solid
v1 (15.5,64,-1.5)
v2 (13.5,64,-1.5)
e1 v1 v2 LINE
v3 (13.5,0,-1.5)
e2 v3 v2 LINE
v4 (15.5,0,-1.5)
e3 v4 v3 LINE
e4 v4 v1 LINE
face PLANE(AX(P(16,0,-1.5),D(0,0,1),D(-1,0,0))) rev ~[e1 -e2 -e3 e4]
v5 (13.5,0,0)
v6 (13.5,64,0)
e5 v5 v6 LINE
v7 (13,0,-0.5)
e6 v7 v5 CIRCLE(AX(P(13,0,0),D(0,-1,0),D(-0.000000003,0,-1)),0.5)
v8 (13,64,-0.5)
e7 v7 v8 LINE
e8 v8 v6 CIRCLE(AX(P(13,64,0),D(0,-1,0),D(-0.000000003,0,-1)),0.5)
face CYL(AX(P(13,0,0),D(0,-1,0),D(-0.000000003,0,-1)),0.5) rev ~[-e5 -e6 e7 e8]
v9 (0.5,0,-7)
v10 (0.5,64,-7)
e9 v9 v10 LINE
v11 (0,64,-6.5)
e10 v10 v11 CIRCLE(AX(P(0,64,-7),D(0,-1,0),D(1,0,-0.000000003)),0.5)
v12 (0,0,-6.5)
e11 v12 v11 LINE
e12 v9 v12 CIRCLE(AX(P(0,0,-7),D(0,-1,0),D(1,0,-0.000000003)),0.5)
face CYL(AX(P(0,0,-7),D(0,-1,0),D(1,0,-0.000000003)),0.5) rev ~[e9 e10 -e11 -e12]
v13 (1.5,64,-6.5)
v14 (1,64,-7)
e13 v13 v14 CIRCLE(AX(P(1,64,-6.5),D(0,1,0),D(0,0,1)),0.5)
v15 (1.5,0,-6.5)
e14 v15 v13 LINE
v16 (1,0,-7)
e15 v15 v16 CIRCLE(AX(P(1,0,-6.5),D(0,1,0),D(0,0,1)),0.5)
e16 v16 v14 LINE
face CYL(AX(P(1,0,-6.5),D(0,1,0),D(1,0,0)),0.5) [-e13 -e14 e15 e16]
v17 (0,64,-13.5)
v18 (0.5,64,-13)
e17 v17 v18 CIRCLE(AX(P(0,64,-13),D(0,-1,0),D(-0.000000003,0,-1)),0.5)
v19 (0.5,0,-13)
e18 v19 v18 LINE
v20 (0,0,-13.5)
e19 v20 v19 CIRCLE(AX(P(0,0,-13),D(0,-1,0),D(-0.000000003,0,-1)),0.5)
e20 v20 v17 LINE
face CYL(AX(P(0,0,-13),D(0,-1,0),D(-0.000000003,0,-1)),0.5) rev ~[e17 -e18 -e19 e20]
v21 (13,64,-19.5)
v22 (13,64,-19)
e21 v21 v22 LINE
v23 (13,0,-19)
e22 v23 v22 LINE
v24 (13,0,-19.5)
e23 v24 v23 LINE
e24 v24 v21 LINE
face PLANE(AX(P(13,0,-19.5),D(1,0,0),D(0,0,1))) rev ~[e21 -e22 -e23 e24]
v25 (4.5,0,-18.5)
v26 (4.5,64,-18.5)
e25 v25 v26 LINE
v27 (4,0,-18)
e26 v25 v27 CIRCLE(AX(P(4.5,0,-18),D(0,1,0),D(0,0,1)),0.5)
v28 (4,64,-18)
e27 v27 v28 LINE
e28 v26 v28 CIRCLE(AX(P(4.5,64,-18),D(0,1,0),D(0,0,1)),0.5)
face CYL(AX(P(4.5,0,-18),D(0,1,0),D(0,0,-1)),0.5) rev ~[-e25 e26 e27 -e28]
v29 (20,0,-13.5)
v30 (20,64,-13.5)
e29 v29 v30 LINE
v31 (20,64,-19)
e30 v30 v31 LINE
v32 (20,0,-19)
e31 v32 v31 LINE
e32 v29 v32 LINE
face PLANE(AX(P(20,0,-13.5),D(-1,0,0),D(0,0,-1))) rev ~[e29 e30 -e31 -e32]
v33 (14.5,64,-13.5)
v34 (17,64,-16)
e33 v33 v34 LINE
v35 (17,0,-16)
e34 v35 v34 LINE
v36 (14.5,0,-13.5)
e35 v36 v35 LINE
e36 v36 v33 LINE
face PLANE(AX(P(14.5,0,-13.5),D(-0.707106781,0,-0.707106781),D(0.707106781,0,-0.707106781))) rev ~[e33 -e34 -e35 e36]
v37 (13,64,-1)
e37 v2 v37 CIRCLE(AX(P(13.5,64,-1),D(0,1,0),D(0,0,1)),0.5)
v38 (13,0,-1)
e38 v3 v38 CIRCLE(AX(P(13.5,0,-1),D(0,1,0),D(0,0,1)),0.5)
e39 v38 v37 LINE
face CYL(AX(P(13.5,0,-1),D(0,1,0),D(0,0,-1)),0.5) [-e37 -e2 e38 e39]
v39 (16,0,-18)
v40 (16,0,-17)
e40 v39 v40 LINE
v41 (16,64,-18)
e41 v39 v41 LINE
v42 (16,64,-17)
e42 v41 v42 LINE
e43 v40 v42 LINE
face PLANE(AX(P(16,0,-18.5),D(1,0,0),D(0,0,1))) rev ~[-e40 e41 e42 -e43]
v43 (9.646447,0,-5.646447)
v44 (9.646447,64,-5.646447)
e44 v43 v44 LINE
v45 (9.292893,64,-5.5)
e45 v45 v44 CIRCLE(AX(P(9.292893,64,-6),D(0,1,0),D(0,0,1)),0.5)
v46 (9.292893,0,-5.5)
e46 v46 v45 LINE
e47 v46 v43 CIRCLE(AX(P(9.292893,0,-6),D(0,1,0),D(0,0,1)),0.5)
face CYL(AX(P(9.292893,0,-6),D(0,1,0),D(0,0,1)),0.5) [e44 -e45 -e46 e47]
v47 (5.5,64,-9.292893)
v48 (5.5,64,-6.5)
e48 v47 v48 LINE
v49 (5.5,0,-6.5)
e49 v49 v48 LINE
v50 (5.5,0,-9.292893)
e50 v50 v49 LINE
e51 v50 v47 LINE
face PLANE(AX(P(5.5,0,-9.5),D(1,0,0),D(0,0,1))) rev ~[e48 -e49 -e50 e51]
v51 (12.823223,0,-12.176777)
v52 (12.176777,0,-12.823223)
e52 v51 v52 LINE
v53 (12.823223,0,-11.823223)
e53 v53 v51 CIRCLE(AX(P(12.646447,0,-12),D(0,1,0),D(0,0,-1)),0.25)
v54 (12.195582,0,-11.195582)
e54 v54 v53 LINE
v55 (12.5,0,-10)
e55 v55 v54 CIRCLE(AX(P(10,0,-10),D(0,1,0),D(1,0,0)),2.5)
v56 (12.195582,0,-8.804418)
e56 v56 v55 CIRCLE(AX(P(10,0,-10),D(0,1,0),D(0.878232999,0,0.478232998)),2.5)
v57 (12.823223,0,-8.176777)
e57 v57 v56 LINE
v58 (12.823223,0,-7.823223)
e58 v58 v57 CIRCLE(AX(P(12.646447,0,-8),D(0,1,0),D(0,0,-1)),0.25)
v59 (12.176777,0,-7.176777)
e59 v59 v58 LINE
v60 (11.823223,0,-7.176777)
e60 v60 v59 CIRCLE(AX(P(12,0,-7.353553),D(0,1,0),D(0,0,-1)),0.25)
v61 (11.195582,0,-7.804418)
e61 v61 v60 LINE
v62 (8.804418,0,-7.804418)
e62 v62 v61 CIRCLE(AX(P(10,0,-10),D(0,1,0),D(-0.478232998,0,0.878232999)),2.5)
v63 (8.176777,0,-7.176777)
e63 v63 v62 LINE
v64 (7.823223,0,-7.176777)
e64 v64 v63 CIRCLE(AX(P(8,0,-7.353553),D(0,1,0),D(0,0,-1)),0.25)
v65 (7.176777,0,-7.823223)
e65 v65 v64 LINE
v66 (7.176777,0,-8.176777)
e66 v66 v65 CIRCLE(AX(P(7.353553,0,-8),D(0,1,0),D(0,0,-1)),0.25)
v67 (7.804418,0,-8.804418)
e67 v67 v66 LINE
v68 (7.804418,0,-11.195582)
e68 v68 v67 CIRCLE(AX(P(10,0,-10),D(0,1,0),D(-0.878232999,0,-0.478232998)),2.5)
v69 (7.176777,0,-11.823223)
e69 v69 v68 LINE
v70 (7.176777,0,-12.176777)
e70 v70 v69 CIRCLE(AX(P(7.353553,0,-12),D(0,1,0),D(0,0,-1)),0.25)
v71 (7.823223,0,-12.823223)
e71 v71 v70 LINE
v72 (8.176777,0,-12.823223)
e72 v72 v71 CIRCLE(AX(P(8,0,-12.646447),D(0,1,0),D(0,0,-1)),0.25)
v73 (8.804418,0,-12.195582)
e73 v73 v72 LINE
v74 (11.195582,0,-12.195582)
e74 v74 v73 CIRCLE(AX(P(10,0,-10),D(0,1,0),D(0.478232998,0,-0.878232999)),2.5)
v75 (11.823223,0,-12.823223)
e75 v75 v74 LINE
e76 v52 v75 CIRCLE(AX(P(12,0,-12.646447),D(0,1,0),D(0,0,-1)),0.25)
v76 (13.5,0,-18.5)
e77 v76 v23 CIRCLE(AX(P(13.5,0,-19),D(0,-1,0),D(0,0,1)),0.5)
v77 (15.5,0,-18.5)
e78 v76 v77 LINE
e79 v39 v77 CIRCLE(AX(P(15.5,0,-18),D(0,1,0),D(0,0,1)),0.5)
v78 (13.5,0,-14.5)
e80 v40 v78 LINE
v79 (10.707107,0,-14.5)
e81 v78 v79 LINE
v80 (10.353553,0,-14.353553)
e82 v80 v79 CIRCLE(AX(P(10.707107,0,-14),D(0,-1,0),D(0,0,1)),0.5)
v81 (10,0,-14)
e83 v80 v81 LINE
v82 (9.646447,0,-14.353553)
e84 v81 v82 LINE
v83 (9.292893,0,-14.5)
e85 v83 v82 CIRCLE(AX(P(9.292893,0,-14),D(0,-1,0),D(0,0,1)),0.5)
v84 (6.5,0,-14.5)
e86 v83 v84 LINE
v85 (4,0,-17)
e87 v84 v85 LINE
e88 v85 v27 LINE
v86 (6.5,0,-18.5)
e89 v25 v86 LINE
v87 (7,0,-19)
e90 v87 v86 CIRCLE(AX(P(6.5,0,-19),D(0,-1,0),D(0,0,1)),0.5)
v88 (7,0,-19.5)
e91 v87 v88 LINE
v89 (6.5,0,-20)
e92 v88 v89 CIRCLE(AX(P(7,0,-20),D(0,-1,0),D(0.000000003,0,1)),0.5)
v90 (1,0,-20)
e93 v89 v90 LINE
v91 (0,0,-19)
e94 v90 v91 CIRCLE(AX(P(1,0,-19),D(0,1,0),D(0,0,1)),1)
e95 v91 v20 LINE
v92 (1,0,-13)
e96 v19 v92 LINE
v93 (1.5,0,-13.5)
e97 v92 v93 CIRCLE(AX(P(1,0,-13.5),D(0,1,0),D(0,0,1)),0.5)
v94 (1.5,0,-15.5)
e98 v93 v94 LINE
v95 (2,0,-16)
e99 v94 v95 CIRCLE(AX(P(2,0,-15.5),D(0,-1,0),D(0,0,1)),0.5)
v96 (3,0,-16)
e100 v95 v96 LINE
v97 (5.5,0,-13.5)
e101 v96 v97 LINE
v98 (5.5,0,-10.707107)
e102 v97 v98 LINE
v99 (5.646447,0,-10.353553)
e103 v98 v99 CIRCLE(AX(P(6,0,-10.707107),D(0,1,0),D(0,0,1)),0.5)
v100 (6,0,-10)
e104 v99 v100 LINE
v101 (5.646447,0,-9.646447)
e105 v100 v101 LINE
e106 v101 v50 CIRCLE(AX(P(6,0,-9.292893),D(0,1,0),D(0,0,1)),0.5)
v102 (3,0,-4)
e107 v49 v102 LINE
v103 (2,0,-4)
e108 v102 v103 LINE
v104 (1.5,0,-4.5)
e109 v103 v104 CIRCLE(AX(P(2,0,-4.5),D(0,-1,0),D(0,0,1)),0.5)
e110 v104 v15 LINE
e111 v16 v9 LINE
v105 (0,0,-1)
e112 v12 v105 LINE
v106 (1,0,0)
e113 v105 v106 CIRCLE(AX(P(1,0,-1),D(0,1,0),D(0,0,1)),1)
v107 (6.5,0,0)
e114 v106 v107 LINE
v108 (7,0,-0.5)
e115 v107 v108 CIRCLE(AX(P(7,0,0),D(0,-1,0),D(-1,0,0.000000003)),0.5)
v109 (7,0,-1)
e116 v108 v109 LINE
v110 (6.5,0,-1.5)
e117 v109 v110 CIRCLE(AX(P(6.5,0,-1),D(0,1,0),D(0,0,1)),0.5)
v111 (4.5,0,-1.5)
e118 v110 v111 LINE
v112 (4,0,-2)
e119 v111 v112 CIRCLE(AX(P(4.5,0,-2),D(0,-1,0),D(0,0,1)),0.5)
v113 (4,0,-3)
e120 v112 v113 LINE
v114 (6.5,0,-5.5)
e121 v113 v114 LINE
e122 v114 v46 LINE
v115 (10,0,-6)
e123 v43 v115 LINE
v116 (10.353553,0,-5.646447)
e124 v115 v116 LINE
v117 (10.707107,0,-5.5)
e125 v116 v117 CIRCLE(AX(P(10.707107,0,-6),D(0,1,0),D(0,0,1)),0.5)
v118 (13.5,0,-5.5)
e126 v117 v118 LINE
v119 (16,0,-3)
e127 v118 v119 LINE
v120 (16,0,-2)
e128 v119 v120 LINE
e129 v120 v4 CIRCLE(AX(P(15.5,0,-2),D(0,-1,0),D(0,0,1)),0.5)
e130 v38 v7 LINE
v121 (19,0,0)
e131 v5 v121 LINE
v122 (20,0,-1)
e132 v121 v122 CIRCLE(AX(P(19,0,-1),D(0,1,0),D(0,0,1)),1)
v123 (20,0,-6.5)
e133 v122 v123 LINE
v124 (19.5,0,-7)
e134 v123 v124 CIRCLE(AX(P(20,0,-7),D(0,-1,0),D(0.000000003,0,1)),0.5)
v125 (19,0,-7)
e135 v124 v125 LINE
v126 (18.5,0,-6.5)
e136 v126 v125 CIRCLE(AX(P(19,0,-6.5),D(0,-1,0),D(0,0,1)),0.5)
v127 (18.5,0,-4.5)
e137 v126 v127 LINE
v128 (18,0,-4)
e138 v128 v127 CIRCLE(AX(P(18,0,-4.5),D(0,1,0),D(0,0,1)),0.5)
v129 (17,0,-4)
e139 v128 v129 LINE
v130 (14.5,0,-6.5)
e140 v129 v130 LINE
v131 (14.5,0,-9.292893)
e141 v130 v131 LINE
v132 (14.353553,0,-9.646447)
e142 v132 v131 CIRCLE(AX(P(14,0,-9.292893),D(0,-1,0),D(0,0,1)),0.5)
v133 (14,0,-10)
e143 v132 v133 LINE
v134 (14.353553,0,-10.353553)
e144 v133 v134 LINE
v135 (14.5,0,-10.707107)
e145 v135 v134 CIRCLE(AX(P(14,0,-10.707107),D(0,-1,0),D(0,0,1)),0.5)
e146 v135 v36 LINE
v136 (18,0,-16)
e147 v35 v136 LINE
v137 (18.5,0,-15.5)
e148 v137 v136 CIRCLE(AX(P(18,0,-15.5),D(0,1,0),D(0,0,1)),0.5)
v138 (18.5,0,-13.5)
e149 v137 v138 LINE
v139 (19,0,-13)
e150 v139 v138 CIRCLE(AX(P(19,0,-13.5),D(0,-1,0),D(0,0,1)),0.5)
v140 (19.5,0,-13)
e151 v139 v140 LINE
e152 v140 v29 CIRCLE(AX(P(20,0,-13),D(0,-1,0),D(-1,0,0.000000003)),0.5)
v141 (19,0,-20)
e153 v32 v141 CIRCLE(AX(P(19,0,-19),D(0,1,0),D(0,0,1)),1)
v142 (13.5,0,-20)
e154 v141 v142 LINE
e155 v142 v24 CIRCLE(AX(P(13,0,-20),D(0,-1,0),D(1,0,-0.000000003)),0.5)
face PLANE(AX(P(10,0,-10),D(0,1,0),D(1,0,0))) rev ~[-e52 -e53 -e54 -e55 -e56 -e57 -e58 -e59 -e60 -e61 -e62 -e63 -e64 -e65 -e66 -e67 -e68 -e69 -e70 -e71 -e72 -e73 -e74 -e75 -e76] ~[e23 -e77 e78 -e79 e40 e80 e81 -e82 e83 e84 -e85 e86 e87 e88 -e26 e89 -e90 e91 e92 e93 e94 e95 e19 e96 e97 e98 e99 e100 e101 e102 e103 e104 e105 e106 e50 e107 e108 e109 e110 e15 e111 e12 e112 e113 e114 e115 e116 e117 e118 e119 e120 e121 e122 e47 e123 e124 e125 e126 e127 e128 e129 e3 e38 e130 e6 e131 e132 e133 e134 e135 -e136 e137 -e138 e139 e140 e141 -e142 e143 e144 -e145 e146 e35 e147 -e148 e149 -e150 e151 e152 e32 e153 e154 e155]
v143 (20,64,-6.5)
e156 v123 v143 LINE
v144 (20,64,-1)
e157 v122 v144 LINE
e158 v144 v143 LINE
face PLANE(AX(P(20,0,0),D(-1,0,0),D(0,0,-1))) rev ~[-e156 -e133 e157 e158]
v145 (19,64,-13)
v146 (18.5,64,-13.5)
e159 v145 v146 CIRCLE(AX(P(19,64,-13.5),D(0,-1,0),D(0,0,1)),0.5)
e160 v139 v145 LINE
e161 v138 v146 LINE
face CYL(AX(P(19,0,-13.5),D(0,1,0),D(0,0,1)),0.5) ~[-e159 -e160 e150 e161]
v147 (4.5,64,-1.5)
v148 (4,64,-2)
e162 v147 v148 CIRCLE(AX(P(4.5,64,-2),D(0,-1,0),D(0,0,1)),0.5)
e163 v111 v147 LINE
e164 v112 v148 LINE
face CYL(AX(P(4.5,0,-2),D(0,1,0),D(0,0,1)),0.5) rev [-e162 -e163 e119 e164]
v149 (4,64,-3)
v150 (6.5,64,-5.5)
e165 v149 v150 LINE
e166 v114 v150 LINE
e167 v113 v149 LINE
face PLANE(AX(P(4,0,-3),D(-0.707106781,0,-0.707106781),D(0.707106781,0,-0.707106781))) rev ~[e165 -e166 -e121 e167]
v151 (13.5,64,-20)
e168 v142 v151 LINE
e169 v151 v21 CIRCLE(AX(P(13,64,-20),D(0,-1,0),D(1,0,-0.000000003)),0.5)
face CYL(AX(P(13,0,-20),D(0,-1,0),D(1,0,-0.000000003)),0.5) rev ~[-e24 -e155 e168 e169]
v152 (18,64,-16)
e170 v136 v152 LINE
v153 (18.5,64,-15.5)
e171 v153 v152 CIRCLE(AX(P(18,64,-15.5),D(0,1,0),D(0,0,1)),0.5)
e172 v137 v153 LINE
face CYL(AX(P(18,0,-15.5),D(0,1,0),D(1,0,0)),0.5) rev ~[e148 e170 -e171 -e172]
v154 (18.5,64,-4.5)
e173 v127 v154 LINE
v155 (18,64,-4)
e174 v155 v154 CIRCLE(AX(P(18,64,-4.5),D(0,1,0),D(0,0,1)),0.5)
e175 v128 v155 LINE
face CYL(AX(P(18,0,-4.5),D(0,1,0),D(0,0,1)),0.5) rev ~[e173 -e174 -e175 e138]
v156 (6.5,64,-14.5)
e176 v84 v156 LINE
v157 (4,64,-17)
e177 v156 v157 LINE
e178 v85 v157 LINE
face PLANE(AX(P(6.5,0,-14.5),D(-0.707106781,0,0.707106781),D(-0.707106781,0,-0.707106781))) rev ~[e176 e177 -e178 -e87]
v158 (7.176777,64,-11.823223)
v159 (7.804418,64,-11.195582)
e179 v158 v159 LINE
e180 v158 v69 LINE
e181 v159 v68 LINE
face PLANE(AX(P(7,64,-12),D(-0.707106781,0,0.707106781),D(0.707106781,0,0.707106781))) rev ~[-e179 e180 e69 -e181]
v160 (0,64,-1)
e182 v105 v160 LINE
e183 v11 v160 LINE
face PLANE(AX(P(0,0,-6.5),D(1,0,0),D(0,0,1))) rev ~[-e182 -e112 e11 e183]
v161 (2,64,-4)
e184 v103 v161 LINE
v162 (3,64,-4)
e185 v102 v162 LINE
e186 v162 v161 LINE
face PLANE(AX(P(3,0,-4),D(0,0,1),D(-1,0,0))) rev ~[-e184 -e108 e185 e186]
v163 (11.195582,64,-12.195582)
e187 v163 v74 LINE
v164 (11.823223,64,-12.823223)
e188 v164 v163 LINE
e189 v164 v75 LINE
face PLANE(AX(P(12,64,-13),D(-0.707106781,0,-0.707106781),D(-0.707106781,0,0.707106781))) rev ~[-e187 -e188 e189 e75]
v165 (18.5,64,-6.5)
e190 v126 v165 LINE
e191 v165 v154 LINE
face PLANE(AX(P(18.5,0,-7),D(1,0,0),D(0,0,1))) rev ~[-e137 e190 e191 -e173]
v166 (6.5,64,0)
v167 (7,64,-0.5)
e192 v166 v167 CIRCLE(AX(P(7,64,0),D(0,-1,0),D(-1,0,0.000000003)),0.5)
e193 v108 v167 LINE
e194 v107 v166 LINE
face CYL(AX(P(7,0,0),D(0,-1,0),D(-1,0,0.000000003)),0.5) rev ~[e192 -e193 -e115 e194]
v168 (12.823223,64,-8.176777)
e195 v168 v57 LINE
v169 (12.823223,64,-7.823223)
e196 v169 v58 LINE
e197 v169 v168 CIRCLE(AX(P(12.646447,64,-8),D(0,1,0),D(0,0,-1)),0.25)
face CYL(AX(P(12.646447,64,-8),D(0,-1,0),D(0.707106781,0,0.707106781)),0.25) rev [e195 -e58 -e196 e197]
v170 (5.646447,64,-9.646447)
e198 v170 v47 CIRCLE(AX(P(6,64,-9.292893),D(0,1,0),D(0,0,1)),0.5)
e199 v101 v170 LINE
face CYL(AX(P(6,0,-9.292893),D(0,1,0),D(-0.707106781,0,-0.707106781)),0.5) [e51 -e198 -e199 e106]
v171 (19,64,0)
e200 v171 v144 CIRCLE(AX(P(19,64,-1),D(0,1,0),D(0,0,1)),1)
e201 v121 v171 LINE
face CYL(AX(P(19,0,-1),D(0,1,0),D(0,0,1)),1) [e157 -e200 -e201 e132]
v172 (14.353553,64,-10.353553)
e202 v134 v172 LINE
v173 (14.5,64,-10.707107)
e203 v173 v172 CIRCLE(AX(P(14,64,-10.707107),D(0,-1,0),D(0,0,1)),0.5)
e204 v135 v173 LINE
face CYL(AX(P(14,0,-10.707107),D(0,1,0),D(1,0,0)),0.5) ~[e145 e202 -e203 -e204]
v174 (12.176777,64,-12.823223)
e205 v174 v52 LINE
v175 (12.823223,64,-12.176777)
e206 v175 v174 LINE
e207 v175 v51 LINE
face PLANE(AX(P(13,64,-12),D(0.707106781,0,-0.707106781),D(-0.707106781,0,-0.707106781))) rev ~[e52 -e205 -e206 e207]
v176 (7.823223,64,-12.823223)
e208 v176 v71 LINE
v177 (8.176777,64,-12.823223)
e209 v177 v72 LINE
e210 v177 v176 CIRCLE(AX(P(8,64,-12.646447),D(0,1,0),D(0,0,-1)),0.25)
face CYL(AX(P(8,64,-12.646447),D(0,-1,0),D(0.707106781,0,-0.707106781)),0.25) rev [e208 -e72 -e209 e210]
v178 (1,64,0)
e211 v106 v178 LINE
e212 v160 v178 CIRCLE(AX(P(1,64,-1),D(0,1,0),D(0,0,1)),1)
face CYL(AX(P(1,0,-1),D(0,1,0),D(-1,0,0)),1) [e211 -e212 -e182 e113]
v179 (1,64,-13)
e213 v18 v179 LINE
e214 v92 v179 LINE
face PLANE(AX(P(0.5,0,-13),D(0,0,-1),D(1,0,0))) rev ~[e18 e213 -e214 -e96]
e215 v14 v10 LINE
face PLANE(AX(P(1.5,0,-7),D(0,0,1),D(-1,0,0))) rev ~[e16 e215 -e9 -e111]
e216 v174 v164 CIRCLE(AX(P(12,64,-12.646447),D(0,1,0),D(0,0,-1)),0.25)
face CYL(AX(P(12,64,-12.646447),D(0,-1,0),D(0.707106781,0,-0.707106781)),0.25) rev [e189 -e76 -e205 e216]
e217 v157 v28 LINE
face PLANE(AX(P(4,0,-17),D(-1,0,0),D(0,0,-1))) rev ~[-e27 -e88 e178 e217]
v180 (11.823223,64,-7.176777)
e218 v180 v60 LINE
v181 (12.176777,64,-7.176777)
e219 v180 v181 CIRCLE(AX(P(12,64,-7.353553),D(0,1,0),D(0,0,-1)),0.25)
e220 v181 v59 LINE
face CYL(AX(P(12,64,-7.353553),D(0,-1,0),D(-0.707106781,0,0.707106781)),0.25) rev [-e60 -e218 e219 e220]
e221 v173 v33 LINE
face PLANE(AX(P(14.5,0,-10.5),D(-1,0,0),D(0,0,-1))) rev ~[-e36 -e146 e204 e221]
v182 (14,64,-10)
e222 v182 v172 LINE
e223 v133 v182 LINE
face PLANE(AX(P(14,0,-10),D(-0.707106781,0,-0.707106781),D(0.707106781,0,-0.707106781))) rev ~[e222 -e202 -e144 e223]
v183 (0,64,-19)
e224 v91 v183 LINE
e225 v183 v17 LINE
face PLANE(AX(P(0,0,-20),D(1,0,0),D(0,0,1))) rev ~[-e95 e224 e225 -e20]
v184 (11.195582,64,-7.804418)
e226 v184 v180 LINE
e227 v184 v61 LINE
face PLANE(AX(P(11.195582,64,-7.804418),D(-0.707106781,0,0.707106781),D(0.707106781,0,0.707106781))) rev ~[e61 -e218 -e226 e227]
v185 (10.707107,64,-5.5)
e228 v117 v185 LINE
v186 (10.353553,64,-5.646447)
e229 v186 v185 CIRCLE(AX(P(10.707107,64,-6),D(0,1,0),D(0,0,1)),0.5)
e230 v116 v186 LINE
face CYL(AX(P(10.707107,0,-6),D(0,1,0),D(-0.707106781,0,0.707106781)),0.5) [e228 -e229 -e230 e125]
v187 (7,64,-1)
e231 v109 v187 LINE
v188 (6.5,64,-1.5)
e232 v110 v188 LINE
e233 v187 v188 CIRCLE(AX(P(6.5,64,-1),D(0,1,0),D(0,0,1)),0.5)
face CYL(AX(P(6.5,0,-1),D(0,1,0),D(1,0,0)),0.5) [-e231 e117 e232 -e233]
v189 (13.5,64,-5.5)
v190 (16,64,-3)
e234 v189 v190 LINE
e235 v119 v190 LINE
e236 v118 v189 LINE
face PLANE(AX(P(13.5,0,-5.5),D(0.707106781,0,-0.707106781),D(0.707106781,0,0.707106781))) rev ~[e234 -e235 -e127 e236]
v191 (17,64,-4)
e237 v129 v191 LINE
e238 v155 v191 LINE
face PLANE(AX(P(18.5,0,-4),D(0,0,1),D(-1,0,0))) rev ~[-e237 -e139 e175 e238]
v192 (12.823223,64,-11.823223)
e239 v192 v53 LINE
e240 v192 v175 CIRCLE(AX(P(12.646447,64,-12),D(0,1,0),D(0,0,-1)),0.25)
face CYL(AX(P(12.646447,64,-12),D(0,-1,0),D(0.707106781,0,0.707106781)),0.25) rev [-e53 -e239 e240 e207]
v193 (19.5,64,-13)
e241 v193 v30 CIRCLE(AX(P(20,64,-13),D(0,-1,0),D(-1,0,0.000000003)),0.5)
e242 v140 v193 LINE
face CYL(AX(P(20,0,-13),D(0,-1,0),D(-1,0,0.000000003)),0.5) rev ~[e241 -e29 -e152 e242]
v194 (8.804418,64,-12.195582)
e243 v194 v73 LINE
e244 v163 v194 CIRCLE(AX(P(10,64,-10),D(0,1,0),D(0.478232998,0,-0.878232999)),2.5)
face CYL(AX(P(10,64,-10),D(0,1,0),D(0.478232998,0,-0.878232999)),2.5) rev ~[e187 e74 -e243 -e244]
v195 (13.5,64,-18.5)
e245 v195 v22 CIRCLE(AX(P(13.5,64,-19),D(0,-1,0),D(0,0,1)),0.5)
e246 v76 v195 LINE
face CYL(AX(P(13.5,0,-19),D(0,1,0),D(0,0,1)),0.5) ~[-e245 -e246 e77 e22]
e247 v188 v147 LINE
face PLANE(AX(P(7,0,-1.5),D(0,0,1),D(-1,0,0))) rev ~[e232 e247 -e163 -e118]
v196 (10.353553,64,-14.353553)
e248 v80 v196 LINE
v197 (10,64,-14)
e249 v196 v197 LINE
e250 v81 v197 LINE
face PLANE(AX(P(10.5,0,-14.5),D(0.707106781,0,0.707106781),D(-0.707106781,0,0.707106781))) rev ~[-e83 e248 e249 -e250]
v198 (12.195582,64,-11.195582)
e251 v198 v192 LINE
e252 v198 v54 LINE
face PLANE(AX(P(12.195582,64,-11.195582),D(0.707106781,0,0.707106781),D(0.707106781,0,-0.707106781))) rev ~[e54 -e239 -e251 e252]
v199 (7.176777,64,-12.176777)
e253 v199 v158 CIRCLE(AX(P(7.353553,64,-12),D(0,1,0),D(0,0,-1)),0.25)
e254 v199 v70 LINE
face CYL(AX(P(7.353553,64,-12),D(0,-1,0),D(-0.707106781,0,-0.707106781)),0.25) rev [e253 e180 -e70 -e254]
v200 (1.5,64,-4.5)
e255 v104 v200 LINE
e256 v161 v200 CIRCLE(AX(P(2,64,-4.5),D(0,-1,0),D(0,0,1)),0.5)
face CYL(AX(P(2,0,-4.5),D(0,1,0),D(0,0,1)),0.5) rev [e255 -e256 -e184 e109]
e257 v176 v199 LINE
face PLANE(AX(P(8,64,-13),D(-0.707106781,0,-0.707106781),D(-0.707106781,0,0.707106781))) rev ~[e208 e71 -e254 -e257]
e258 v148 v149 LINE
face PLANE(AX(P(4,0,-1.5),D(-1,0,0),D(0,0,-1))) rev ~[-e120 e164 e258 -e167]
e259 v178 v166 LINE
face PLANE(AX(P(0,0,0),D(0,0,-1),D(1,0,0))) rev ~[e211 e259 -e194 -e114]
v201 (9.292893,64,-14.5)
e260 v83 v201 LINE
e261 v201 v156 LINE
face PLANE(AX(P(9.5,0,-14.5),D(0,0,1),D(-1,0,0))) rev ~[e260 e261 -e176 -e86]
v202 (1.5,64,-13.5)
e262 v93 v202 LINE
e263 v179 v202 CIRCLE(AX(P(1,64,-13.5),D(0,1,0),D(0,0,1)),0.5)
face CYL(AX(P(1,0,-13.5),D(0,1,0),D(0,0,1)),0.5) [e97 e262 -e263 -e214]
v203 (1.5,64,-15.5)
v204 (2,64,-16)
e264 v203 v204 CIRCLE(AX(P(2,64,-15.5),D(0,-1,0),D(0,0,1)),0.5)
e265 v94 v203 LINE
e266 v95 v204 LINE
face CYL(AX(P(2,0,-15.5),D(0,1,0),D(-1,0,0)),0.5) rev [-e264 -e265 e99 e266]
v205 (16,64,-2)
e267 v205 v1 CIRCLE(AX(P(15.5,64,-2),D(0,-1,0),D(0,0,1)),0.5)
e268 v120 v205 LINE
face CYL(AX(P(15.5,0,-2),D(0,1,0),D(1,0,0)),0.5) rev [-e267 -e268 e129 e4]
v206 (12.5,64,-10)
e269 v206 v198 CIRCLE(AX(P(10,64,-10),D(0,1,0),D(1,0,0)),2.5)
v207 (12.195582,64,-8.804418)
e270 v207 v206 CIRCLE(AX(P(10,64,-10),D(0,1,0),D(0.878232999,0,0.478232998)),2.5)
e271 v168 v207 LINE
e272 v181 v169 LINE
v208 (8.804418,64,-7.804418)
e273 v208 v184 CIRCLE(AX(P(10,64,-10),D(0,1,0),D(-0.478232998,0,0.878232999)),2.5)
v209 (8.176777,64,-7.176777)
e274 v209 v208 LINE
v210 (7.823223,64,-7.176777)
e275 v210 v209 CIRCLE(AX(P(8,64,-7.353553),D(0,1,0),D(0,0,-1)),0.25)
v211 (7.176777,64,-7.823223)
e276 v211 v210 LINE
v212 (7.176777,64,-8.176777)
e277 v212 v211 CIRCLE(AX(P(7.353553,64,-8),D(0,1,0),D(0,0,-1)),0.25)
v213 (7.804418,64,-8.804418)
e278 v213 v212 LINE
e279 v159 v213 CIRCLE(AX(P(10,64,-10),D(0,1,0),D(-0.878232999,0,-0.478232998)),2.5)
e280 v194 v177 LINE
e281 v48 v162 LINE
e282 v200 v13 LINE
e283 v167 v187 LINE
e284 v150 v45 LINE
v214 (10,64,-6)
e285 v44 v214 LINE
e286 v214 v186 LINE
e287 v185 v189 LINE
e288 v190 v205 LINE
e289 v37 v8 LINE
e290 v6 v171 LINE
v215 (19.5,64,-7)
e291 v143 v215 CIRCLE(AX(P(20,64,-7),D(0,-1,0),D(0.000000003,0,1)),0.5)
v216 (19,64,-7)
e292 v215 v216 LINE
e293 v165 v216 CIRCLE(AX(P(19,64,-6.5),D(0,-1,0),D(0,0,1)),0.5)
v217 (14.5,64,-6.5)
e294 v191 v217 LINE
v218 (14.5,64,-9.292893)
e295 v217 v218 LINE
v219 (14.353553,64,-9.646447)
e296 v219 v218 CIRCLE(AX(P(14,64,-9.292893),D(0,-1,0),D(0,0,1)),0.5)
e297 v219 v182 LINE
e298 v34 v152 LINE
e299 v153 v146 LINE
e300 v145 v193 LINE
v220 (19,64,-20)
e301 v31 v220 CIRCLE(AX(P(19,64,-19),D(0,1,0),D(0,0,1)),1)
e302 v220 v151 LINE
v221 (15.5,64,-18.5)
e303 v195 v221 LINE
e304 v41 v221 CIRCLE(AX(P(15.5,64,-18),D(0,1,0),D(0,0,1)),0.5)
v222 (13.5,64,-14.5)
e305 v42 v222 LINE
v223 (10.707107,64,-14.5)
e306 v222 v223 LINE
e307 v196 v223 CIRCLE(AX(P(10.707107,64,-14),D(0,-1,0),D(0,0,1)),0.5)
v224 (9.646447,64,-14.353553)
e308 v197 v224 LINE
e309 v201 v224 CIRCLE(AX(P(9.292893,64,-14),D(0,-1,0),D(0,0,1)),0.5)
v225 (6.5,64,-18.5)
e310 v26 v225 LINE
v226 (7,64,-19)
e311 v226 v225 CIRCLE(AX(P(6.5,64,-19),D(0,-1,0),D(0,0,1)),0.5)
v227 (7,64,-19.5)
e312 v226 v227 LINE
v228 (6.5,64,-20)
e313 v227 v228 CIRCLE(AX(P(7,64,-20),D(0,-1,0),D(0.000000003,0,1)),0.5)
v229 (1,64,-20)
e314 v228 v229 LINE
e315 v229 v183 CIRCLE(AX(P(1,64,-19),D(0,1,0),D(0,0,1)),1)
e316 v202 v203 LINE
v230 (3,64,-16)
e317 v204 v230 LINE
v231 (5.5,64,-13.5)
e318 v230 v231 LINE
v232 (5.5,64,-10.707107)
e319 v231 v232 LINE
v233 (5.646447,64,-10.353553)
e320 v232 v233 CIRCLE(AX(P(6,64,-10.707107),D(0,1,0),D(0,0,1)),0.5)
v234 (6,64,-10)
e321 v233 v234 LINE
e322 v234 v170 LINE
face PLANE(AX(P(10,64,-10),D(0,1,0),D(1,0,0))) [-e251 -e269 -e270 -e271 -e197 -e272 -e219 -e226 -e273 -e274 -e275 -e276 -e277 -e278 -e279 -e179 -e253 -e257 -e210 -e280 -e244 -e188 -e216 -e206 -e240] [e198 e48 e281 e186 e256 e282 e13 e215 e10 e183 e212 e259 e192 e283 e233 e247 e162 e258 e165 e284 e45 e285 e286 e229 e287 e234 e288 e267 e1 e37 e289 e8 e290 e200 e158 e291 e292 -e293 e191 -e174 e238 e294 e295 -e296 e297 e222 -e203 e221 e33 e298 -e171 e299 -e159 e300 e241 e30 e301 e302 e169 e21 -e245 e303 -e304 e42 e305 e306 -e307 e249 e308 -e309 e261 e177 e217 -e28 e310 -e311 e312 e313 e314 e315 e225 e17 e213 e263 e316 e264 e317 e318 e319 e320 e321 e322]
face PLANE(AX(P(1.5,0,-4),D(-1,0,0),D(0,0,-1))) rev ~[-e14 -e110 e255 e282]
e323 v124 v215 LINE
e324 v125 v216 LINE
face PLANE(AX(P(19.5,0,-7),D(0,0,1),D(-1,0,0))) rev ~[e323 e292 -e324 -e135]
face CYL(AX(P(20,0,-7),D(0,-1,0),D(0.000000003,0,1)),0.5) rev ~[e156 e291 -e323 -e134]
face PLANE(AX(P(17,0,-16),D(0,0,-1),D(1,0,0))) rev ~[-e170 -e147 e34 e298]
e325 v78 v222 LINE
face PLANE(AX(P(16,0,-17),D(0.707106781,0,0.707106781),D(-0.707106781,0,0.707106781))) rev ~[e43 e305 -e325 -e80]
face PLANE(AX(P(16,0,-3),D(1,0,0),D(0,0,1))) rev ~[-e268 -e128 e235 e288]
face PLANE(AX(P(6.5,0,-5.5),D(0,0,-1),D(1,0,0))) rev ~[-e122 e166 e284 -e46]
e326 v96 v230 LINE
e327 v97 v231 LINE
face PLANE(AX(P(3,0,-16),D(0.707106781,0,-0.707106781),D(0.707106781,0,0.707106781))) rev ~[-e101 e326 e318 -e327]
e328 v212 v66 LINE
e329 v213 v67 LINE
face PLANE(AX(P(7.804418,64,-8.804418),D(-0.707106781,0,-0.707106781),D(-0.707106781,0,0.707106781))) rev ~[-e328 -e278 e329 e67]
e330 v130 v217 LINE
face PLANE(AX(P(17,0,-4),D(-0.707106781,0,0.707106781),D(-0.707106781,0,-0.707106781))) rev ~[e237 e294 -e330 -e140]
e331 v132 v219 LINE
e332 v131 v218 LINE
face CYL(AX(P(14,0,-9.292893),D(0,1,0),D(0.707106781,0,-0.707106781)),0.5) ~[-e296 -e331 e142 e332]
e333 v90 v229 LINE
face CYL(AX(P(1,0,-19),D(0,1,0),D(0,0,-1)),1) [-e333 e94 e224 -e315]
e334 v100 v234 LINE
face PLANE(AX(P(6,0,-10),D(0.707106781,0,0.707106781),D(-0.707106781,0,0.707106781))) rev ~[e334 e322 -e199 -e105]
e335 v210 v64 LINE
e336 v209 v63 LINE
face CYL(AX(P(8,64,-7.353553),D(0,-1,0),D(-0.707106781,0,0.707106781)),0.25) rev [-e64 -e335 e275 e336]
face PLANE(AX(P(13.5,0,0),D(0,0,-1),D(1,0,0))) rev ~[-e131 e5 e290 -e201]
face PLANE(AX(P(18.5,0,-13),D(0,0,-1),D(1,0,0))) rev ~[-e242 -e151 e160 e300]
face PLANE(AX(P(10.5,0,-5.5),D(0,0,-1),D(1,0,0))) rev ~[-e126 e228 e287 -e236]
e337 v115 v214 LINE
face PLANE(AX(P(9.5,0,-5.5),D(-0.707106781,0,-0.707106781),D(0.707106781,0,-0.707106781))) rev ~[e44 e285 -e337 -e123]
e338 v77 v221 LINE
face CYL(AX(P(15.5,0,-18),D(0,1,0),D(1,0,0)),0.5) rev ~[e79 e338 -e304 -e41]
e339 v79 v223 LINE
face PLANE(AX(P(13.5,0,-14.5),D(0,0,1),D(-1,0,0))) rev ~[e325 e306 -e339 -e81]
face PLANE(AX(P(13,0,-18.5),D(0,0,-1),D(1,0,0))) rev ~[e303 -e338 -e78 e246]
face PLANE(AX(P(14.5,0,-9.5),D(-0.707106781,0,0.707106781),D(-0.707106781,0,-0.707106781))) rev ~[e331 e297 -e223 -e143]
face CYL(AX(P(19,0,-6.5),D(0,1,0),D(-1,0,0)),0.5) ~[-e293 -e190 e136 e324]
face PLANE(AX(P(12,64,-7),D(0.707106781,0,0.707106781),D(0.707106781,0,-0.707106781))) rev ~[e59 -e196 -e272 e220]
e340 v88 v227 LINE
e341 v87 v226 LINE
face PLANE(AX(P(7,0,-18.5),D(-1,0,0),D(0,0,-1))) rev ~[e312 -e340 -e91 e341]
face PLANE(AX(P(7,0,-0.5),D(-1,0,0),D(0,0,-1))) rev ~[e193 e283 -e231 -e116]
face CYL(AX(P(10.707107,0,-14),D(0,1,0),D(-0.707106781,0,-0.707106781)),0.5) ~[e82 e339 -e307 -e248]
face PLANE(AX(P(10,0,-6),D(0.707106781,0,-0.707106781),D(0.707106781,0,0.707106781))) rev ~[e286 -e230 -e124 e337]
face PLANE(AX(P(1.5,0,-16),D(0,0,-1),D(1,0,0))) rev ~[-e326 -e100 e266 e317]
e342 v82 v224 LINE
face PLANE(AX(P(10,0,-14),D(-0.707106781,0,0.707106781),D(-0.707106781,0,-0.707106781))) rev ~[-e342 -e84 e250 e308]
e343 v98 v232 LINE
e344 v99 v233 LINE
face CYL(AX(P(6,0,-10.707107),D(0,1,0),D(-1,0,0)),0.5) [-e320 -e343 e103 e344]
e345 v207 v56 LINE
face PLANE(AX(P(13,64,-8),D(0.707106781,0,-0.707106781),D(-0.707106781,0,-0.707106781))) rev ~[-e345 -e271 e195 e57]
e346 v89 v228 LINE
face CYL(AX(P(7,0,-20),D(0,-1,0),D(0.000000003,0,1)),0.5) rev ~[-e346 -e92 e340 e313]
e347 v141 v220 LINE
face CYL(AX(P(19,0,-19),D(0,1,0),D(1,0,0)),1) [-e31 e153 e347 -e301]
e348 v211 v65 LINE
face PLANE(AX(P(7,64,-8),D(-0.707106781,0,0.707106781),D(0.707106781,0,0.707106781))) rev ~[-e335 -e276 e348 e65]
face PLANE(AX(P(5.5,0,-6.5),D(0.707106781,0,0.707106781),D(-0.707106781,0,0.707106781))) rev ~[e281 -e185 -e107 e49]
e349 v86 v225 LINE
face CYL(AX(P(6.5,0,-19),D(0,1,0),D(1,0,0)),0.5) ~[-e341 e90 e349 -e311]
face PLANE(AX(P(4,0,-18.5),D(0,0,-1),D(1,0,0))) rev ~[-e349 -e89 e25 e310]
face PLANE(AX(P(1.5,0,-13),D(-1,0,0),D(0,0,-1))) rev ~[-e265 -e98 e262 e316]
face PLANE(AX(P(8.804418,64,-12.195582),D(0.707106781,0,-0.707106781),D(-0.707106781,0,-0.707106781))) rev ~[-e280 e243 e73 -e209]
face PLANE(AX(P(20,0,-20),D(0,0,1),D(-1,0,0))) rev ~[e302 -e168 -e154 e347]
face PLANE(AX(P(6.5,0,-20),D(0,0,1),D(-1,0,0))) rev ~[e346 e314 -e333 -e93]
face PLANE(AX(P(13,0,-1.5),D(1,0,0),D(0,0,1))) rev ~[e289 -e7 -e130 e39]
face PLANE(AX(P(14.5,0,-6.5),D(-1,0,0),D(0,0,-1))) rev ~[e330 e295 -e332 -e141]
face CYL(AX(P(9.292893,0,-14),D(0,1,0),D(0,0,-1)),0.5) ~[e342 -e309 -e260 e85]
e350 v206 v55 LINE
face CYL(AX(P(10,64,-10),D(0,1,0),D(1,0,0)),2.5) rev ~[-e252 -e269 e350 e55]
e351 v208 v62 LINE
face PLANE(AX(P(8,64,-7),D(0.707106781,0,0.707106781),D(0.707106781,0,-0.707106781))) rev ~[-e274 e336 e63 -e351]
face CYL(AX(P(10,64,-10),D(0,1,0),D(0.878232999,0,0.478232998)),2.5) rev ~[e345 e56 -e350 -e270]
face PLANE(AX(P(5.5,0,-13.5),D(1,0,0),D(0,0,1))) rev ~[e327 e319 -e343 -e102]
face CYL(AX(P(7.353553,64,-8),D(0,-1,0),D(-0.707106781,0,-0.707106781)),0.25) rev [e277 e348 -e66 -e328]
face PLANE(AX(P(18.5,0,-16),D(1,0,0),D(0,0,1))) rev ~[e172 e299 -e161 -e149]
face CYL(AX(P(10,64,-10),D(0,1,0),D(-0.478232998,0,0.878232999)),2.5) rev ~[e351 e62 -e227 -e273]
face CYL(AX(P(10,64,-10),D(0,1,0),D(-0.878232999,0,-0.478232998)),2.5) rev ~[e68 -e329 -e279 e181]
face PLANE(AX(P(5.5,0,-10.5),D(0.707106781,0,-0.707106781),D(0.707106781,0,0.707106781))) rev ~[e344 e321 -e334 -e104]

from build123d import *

# Parameters (mm, degrees)
BOSS_EXTRUDE1_DEPTH = 64
FILLET1_R           = 1
CUT_EXTRUDE1_DEPTH  = 65
FILLET2_R           = 0.5
FILLET3_R           = 0.25


with BuildPart() as part:
    # Sketch3 → Boss-Extrude1 (new body)
    with BuildSketch(Plane(origin=(0, 0, 0), x_dir=(1, 0, 0), z_dir=(0, 1, 0))):
        with BuildLine():
            Line((7, 18.5), (7, 19.5))
            ThreePointArc((7, 19.5), (6.646446609, 19.646446609), (6.5, 20))
            Line((6.5, 20), (0, 20))
            Line((0, 20), (0, 13.5))
            ThreePointArc((0, 13.5), (0.353553391, 13.353553391), (0.5, 13))
            Line((0.5, 13), (1.5, 13))
            Line((1.5, 13), (1.5, 16))
            Line((1.5, 16), (3, 16))
            Line((3, 16), (5.5, 13.5))
            Line((5.5, 13.5), (5.5, 10.5))
            Line((5.5, 10.5), (6, 10))
            Line((6, 10), (5.5, 9.5))
            Line((5.5, 9.5), (5.5, 6.5))
            Line((5.5, 6.5), (3, 4))
            Line((3, 4), (1.5, 4))
            Line((1.5, 4), (1.5, 7))
            Line((1.5, 7), (0.5, 7))
            ThreePointArc((0.5, 7), (0.353553391, 6.646446609), (0, 6.5))
            Line((0, 6.5), (0, 0))
            Line((0, 0), (6.5, 0))
            ThreePointArc((6.5, 0), (6.646446609, 0.353553391), (7, 0.5))
            Line((7, 0.5), (7, 1.5))
            Line((7, 1.5), (4, 1.5))
            Line((4, 1.5), (4, 3))
            Line((4, 3), (6.5, 5.5))
            Line((6.5, 5.5), (9.5, 5.5))
            Line((9.5, 5.5), (10, 6))
            Line((10, 6), (10.5, 5.5))
            Line((10.5, 5.5), (13.5, 5.5))
            Line((13.5, 5.5), (16, 3))
            Line((16, 3), (16, 1.5))
            Line((16, 1.5), (13, 1.5))
            Line((13, 1.5), (13, 0.5))
            ThreePointArc((13, 0.5), (13.353553391, 0.353553391), (13.5, 0))
            Line((13.5, 0), (20, 0))
            Line((20, 0), (20, 6.5))
            ThreePointArc((20, 6.5), (19.646446609, 6.646446609), (19.5, 7))
            Line((19.5, 7), (18.5, 7))
            Line((18.5, 7), (18.5, 4))
            Line((18.5, 4), (17, 4))
            Line((17, 4), (14.5, 6.5))
            Line((14.5, 6.5), (14.5, 9.5))
            Line((14.5, 9.5), (14, 10))
            Line((14, 10), (14.5, 10.5))
            Line((14.5, 10.5), (14.5, 13.5))
            Line((14.5, 13.5), (17, 16))
            Line((17, 16), (18.5, 16))
            Line((18.5, 16), (18.5, 13))
            Line((18.5, 13), (19.5, 13))
            ThreePointArc((19.5, 13), (19.646446609, 13.353553391), (20, 13.5))
            Line((20, 13.5), (20, 20))
            Line((20, 20), (13.5, 20))
            ThreePointArc((13.5, 20), (13.353553391, 19.646446609), (13, 19.5))
            Line((13, 19.5), (13, 18.5))
            Line((13, 18.5), (16, 18.5))
            Line((16, 18.5), (16, 17))
            Line((16, 17), (13.5, 14.5))
            Line((13.5, 14.5), (10.5, 14.5))
            Line((10.5, 14.5), (10, 14))
            Line((10, 14), (9.5, 14.5))
            Line((9.5, 14.5), (6.5, 14.5))
            Line((6.5, 14.5), (4, 17))
            Line((4, 17), (4, 18.5))
            Line((4, 18.5), (7, 18.5))
        make_face()
    extrude(amount=BOSS_EXTRUDE1_DEPTH)

    # Fillet1
    fillet1_edges = [part.edges().sort_by_distance(p)[0] for p in [
        (20, 32, 0),
        (0, 32, 0),
        (0, 32, -20),
        (20, 32, -20),
    ]]
    fillet(fillet1_edges, radius=FILLET1_R)

    # Sketch4 → Cut-Extrude1 (cut, through all)
    with BuildSketch(Plane(origin=(0, 64, 0), x_dir=(1, 0, 0), z_dir=(0, 1, 0))):
        with BuildLine():
            Line((10, 11), (11.195582496, 12.195582496))
            ThreePointArc((11.195582496, 12.195582496), (10, 12.5), (8.804417504, 12.195582496))
            Line((8.804417504, 12.195582496), (10, 11))
        make_face()
        with BuildLine():
            ThreePointArc((12.195582496, 11.195582496), (11.767766953, 11.767766953), (11.195582496, 12.195582496))
            Line((11.195582496, 12.195582496), (10, 11))
            Line((10, 11), (11, 10))
            Line((11, 10), (12.195582496, 11.195582496))
        make_face()
        with BuildLine():
            Line((9, 10), (10, 11))
            Line((10, 11), (8.804417504, 12.195582496))
            ThreePointArc((8.804417504, 12.195582496), (8.232233047, 11.767766953), (7.804417504, 11.195582496))
            Line((7.804417504, 11.195582496), (9, 10))
        make_face()
        Polygon((11, 10), (10, 11), (9, 10), (10, 9), align=None)
        with BuildLine():
            Line((7.804417504, 8.804417504), (9, 10))
            Line((9, 10), (7.804417504, 11.195582496))
            ThreePointArc((7.804417504, 11.195582496), (7.5, 10), (7.804417504, 8.804417504))
        make_face()
        with BuildLine():
            Line((10, 9), (9, 10))
            Line((9, 10), (7.804417504, 8.804417504))
            ThreePointArc((7.804417504, 8.804417504), (8.232233047, 8.232233047), (8.804417504, 7.804417504))
            Line((8.804417504, 7.804417504), (10, 9))
        make_face()
        with BuildLine():
            Line((11.195582496, 7.804417504), (10, 9))
            Line((10, 9), (8.804417504, 7.804417504))
            ThreePointArc((8.804417504, 7.804417504), (10, 7.5), (11.195582496, 7.804417504))
        make_face()
        with BuildLine():
            Line((12.195582496, 8.804417504), (11, 10))
            Line((11, 10), (10, 9))
            Line((10, 9), (11.195582496, 7.804417504))
            ThreePointArc((11.195582496, 7.804417504), (11.767766953, 8.232233047), (12.195582496, 8.804417504))
        make_face()
        with BuildLine():
            ThreePointArc((12.5, 10), (12.422700584, 10.616864556), (12.195582496, 11.195582496))
            Line((12.195582496, 11.195582496), (11, 10))
            Line((11, 10), (12.195582496, 8.804417504))
            ThreePointArc((12.195582496, 8.804417504), (12.422700584, 9.383135444), (12.5, 10))
        make_face()
        with BuildLine():
            ThreePointArc((8.804417504, 7.804417504), (8.232233047, 8.232233047), (7.804417504, 8.804417504))
            Line((7.804417504, 8.804417504), (7, 8))
            Line((7, 8), (8, 7))
            Line((8, 7), (8.804417504, 7.804417504))
        make_face()
        with BuildLine():
            Line((13, 8), (12.195582496, 8.804417504))
            ThreePointArc((12.195582496, 8.804417504), (11.767766953, 8.232233047), (11.195582496, 7.804417504))
            Line((11.195582496, 7.804417504), (12, 7))
            Line((12, 7), (13, 8))
        make_face()
        with BuildLine():
            Line((13, 12), (12, 13))
            Line((12, 13), (11.195582496, 12.195582496))
            ThreePointArc((11.195582496, 12.195582496), (11.767766953, 11.767766953), (12.195582496, 11.195582496))
            Line((12.195582496, 11.195582496), (13, 12))
        make_face()
        with BuildLine():
            ThreePointArc((7.804417504, 11.195582496), (8.232233047, 11.767766953), (8.804417504, 12.195582496))
            Line((8.804417504, 12.195582496), (8, 13))
            Line((8, 13), (7, 12))
            Line((7, 12), (7.804417504, 11.195582496))
        make_face()
    extrude(amount=-CUT_EXTRUDE1_DEPTH, mode=Mode.SUBTRACT)

    # Fillet2
    fillet2_edges = [part.edges().sort_by_distance(p)[0] for p in [
        (18.5, 32, -13),
        (18.5, 32, -16),
        (14.5, 32, -10.5),
        (14.5, 32, -9.5),
        (18.5, 32, -4),
        (18.5, 32, -7),
        (13, 32, -1.5),
        (16, 32, -1.5),
        (10.5, 32, -5.5),
        (9.5, 32, -5.5),
        (4, 32, -1.5),
        (7, 32, -1.5),
        (1.5, 32, -7),
        (1.5, 32, -4),
        (5.5, 32, -9.5),
        (5.5, 32, -10.5),
        (1.5, 32, -16),
        (1.5, 32, -13),
        (7, 32, -18.5),
        (4, 32, -18.5),
        (9.5, 32, -14.5),
        (10.5, 32, -14.5),
        (16, 32, -18.5),
        (13, 32, -18.5),
    ]]
    fillet(fillet2_edges, radius=FILLET2_R)

    # Fillet3
    fillet3_edges = [part.edges().sort_by_distance(p)[0] for p in [
        (7, 32, -12),
        (8, 32, -13),
        (12, 32, -13),
        (13, 32, -12),
        (13, 32, -8),
        (12, 32, -7),
        (8, 32, -7),
        (7, 32, -8),
    ]]
    fillet(fillet3_edges, radius=FILLET3_R)


solid = part.part
